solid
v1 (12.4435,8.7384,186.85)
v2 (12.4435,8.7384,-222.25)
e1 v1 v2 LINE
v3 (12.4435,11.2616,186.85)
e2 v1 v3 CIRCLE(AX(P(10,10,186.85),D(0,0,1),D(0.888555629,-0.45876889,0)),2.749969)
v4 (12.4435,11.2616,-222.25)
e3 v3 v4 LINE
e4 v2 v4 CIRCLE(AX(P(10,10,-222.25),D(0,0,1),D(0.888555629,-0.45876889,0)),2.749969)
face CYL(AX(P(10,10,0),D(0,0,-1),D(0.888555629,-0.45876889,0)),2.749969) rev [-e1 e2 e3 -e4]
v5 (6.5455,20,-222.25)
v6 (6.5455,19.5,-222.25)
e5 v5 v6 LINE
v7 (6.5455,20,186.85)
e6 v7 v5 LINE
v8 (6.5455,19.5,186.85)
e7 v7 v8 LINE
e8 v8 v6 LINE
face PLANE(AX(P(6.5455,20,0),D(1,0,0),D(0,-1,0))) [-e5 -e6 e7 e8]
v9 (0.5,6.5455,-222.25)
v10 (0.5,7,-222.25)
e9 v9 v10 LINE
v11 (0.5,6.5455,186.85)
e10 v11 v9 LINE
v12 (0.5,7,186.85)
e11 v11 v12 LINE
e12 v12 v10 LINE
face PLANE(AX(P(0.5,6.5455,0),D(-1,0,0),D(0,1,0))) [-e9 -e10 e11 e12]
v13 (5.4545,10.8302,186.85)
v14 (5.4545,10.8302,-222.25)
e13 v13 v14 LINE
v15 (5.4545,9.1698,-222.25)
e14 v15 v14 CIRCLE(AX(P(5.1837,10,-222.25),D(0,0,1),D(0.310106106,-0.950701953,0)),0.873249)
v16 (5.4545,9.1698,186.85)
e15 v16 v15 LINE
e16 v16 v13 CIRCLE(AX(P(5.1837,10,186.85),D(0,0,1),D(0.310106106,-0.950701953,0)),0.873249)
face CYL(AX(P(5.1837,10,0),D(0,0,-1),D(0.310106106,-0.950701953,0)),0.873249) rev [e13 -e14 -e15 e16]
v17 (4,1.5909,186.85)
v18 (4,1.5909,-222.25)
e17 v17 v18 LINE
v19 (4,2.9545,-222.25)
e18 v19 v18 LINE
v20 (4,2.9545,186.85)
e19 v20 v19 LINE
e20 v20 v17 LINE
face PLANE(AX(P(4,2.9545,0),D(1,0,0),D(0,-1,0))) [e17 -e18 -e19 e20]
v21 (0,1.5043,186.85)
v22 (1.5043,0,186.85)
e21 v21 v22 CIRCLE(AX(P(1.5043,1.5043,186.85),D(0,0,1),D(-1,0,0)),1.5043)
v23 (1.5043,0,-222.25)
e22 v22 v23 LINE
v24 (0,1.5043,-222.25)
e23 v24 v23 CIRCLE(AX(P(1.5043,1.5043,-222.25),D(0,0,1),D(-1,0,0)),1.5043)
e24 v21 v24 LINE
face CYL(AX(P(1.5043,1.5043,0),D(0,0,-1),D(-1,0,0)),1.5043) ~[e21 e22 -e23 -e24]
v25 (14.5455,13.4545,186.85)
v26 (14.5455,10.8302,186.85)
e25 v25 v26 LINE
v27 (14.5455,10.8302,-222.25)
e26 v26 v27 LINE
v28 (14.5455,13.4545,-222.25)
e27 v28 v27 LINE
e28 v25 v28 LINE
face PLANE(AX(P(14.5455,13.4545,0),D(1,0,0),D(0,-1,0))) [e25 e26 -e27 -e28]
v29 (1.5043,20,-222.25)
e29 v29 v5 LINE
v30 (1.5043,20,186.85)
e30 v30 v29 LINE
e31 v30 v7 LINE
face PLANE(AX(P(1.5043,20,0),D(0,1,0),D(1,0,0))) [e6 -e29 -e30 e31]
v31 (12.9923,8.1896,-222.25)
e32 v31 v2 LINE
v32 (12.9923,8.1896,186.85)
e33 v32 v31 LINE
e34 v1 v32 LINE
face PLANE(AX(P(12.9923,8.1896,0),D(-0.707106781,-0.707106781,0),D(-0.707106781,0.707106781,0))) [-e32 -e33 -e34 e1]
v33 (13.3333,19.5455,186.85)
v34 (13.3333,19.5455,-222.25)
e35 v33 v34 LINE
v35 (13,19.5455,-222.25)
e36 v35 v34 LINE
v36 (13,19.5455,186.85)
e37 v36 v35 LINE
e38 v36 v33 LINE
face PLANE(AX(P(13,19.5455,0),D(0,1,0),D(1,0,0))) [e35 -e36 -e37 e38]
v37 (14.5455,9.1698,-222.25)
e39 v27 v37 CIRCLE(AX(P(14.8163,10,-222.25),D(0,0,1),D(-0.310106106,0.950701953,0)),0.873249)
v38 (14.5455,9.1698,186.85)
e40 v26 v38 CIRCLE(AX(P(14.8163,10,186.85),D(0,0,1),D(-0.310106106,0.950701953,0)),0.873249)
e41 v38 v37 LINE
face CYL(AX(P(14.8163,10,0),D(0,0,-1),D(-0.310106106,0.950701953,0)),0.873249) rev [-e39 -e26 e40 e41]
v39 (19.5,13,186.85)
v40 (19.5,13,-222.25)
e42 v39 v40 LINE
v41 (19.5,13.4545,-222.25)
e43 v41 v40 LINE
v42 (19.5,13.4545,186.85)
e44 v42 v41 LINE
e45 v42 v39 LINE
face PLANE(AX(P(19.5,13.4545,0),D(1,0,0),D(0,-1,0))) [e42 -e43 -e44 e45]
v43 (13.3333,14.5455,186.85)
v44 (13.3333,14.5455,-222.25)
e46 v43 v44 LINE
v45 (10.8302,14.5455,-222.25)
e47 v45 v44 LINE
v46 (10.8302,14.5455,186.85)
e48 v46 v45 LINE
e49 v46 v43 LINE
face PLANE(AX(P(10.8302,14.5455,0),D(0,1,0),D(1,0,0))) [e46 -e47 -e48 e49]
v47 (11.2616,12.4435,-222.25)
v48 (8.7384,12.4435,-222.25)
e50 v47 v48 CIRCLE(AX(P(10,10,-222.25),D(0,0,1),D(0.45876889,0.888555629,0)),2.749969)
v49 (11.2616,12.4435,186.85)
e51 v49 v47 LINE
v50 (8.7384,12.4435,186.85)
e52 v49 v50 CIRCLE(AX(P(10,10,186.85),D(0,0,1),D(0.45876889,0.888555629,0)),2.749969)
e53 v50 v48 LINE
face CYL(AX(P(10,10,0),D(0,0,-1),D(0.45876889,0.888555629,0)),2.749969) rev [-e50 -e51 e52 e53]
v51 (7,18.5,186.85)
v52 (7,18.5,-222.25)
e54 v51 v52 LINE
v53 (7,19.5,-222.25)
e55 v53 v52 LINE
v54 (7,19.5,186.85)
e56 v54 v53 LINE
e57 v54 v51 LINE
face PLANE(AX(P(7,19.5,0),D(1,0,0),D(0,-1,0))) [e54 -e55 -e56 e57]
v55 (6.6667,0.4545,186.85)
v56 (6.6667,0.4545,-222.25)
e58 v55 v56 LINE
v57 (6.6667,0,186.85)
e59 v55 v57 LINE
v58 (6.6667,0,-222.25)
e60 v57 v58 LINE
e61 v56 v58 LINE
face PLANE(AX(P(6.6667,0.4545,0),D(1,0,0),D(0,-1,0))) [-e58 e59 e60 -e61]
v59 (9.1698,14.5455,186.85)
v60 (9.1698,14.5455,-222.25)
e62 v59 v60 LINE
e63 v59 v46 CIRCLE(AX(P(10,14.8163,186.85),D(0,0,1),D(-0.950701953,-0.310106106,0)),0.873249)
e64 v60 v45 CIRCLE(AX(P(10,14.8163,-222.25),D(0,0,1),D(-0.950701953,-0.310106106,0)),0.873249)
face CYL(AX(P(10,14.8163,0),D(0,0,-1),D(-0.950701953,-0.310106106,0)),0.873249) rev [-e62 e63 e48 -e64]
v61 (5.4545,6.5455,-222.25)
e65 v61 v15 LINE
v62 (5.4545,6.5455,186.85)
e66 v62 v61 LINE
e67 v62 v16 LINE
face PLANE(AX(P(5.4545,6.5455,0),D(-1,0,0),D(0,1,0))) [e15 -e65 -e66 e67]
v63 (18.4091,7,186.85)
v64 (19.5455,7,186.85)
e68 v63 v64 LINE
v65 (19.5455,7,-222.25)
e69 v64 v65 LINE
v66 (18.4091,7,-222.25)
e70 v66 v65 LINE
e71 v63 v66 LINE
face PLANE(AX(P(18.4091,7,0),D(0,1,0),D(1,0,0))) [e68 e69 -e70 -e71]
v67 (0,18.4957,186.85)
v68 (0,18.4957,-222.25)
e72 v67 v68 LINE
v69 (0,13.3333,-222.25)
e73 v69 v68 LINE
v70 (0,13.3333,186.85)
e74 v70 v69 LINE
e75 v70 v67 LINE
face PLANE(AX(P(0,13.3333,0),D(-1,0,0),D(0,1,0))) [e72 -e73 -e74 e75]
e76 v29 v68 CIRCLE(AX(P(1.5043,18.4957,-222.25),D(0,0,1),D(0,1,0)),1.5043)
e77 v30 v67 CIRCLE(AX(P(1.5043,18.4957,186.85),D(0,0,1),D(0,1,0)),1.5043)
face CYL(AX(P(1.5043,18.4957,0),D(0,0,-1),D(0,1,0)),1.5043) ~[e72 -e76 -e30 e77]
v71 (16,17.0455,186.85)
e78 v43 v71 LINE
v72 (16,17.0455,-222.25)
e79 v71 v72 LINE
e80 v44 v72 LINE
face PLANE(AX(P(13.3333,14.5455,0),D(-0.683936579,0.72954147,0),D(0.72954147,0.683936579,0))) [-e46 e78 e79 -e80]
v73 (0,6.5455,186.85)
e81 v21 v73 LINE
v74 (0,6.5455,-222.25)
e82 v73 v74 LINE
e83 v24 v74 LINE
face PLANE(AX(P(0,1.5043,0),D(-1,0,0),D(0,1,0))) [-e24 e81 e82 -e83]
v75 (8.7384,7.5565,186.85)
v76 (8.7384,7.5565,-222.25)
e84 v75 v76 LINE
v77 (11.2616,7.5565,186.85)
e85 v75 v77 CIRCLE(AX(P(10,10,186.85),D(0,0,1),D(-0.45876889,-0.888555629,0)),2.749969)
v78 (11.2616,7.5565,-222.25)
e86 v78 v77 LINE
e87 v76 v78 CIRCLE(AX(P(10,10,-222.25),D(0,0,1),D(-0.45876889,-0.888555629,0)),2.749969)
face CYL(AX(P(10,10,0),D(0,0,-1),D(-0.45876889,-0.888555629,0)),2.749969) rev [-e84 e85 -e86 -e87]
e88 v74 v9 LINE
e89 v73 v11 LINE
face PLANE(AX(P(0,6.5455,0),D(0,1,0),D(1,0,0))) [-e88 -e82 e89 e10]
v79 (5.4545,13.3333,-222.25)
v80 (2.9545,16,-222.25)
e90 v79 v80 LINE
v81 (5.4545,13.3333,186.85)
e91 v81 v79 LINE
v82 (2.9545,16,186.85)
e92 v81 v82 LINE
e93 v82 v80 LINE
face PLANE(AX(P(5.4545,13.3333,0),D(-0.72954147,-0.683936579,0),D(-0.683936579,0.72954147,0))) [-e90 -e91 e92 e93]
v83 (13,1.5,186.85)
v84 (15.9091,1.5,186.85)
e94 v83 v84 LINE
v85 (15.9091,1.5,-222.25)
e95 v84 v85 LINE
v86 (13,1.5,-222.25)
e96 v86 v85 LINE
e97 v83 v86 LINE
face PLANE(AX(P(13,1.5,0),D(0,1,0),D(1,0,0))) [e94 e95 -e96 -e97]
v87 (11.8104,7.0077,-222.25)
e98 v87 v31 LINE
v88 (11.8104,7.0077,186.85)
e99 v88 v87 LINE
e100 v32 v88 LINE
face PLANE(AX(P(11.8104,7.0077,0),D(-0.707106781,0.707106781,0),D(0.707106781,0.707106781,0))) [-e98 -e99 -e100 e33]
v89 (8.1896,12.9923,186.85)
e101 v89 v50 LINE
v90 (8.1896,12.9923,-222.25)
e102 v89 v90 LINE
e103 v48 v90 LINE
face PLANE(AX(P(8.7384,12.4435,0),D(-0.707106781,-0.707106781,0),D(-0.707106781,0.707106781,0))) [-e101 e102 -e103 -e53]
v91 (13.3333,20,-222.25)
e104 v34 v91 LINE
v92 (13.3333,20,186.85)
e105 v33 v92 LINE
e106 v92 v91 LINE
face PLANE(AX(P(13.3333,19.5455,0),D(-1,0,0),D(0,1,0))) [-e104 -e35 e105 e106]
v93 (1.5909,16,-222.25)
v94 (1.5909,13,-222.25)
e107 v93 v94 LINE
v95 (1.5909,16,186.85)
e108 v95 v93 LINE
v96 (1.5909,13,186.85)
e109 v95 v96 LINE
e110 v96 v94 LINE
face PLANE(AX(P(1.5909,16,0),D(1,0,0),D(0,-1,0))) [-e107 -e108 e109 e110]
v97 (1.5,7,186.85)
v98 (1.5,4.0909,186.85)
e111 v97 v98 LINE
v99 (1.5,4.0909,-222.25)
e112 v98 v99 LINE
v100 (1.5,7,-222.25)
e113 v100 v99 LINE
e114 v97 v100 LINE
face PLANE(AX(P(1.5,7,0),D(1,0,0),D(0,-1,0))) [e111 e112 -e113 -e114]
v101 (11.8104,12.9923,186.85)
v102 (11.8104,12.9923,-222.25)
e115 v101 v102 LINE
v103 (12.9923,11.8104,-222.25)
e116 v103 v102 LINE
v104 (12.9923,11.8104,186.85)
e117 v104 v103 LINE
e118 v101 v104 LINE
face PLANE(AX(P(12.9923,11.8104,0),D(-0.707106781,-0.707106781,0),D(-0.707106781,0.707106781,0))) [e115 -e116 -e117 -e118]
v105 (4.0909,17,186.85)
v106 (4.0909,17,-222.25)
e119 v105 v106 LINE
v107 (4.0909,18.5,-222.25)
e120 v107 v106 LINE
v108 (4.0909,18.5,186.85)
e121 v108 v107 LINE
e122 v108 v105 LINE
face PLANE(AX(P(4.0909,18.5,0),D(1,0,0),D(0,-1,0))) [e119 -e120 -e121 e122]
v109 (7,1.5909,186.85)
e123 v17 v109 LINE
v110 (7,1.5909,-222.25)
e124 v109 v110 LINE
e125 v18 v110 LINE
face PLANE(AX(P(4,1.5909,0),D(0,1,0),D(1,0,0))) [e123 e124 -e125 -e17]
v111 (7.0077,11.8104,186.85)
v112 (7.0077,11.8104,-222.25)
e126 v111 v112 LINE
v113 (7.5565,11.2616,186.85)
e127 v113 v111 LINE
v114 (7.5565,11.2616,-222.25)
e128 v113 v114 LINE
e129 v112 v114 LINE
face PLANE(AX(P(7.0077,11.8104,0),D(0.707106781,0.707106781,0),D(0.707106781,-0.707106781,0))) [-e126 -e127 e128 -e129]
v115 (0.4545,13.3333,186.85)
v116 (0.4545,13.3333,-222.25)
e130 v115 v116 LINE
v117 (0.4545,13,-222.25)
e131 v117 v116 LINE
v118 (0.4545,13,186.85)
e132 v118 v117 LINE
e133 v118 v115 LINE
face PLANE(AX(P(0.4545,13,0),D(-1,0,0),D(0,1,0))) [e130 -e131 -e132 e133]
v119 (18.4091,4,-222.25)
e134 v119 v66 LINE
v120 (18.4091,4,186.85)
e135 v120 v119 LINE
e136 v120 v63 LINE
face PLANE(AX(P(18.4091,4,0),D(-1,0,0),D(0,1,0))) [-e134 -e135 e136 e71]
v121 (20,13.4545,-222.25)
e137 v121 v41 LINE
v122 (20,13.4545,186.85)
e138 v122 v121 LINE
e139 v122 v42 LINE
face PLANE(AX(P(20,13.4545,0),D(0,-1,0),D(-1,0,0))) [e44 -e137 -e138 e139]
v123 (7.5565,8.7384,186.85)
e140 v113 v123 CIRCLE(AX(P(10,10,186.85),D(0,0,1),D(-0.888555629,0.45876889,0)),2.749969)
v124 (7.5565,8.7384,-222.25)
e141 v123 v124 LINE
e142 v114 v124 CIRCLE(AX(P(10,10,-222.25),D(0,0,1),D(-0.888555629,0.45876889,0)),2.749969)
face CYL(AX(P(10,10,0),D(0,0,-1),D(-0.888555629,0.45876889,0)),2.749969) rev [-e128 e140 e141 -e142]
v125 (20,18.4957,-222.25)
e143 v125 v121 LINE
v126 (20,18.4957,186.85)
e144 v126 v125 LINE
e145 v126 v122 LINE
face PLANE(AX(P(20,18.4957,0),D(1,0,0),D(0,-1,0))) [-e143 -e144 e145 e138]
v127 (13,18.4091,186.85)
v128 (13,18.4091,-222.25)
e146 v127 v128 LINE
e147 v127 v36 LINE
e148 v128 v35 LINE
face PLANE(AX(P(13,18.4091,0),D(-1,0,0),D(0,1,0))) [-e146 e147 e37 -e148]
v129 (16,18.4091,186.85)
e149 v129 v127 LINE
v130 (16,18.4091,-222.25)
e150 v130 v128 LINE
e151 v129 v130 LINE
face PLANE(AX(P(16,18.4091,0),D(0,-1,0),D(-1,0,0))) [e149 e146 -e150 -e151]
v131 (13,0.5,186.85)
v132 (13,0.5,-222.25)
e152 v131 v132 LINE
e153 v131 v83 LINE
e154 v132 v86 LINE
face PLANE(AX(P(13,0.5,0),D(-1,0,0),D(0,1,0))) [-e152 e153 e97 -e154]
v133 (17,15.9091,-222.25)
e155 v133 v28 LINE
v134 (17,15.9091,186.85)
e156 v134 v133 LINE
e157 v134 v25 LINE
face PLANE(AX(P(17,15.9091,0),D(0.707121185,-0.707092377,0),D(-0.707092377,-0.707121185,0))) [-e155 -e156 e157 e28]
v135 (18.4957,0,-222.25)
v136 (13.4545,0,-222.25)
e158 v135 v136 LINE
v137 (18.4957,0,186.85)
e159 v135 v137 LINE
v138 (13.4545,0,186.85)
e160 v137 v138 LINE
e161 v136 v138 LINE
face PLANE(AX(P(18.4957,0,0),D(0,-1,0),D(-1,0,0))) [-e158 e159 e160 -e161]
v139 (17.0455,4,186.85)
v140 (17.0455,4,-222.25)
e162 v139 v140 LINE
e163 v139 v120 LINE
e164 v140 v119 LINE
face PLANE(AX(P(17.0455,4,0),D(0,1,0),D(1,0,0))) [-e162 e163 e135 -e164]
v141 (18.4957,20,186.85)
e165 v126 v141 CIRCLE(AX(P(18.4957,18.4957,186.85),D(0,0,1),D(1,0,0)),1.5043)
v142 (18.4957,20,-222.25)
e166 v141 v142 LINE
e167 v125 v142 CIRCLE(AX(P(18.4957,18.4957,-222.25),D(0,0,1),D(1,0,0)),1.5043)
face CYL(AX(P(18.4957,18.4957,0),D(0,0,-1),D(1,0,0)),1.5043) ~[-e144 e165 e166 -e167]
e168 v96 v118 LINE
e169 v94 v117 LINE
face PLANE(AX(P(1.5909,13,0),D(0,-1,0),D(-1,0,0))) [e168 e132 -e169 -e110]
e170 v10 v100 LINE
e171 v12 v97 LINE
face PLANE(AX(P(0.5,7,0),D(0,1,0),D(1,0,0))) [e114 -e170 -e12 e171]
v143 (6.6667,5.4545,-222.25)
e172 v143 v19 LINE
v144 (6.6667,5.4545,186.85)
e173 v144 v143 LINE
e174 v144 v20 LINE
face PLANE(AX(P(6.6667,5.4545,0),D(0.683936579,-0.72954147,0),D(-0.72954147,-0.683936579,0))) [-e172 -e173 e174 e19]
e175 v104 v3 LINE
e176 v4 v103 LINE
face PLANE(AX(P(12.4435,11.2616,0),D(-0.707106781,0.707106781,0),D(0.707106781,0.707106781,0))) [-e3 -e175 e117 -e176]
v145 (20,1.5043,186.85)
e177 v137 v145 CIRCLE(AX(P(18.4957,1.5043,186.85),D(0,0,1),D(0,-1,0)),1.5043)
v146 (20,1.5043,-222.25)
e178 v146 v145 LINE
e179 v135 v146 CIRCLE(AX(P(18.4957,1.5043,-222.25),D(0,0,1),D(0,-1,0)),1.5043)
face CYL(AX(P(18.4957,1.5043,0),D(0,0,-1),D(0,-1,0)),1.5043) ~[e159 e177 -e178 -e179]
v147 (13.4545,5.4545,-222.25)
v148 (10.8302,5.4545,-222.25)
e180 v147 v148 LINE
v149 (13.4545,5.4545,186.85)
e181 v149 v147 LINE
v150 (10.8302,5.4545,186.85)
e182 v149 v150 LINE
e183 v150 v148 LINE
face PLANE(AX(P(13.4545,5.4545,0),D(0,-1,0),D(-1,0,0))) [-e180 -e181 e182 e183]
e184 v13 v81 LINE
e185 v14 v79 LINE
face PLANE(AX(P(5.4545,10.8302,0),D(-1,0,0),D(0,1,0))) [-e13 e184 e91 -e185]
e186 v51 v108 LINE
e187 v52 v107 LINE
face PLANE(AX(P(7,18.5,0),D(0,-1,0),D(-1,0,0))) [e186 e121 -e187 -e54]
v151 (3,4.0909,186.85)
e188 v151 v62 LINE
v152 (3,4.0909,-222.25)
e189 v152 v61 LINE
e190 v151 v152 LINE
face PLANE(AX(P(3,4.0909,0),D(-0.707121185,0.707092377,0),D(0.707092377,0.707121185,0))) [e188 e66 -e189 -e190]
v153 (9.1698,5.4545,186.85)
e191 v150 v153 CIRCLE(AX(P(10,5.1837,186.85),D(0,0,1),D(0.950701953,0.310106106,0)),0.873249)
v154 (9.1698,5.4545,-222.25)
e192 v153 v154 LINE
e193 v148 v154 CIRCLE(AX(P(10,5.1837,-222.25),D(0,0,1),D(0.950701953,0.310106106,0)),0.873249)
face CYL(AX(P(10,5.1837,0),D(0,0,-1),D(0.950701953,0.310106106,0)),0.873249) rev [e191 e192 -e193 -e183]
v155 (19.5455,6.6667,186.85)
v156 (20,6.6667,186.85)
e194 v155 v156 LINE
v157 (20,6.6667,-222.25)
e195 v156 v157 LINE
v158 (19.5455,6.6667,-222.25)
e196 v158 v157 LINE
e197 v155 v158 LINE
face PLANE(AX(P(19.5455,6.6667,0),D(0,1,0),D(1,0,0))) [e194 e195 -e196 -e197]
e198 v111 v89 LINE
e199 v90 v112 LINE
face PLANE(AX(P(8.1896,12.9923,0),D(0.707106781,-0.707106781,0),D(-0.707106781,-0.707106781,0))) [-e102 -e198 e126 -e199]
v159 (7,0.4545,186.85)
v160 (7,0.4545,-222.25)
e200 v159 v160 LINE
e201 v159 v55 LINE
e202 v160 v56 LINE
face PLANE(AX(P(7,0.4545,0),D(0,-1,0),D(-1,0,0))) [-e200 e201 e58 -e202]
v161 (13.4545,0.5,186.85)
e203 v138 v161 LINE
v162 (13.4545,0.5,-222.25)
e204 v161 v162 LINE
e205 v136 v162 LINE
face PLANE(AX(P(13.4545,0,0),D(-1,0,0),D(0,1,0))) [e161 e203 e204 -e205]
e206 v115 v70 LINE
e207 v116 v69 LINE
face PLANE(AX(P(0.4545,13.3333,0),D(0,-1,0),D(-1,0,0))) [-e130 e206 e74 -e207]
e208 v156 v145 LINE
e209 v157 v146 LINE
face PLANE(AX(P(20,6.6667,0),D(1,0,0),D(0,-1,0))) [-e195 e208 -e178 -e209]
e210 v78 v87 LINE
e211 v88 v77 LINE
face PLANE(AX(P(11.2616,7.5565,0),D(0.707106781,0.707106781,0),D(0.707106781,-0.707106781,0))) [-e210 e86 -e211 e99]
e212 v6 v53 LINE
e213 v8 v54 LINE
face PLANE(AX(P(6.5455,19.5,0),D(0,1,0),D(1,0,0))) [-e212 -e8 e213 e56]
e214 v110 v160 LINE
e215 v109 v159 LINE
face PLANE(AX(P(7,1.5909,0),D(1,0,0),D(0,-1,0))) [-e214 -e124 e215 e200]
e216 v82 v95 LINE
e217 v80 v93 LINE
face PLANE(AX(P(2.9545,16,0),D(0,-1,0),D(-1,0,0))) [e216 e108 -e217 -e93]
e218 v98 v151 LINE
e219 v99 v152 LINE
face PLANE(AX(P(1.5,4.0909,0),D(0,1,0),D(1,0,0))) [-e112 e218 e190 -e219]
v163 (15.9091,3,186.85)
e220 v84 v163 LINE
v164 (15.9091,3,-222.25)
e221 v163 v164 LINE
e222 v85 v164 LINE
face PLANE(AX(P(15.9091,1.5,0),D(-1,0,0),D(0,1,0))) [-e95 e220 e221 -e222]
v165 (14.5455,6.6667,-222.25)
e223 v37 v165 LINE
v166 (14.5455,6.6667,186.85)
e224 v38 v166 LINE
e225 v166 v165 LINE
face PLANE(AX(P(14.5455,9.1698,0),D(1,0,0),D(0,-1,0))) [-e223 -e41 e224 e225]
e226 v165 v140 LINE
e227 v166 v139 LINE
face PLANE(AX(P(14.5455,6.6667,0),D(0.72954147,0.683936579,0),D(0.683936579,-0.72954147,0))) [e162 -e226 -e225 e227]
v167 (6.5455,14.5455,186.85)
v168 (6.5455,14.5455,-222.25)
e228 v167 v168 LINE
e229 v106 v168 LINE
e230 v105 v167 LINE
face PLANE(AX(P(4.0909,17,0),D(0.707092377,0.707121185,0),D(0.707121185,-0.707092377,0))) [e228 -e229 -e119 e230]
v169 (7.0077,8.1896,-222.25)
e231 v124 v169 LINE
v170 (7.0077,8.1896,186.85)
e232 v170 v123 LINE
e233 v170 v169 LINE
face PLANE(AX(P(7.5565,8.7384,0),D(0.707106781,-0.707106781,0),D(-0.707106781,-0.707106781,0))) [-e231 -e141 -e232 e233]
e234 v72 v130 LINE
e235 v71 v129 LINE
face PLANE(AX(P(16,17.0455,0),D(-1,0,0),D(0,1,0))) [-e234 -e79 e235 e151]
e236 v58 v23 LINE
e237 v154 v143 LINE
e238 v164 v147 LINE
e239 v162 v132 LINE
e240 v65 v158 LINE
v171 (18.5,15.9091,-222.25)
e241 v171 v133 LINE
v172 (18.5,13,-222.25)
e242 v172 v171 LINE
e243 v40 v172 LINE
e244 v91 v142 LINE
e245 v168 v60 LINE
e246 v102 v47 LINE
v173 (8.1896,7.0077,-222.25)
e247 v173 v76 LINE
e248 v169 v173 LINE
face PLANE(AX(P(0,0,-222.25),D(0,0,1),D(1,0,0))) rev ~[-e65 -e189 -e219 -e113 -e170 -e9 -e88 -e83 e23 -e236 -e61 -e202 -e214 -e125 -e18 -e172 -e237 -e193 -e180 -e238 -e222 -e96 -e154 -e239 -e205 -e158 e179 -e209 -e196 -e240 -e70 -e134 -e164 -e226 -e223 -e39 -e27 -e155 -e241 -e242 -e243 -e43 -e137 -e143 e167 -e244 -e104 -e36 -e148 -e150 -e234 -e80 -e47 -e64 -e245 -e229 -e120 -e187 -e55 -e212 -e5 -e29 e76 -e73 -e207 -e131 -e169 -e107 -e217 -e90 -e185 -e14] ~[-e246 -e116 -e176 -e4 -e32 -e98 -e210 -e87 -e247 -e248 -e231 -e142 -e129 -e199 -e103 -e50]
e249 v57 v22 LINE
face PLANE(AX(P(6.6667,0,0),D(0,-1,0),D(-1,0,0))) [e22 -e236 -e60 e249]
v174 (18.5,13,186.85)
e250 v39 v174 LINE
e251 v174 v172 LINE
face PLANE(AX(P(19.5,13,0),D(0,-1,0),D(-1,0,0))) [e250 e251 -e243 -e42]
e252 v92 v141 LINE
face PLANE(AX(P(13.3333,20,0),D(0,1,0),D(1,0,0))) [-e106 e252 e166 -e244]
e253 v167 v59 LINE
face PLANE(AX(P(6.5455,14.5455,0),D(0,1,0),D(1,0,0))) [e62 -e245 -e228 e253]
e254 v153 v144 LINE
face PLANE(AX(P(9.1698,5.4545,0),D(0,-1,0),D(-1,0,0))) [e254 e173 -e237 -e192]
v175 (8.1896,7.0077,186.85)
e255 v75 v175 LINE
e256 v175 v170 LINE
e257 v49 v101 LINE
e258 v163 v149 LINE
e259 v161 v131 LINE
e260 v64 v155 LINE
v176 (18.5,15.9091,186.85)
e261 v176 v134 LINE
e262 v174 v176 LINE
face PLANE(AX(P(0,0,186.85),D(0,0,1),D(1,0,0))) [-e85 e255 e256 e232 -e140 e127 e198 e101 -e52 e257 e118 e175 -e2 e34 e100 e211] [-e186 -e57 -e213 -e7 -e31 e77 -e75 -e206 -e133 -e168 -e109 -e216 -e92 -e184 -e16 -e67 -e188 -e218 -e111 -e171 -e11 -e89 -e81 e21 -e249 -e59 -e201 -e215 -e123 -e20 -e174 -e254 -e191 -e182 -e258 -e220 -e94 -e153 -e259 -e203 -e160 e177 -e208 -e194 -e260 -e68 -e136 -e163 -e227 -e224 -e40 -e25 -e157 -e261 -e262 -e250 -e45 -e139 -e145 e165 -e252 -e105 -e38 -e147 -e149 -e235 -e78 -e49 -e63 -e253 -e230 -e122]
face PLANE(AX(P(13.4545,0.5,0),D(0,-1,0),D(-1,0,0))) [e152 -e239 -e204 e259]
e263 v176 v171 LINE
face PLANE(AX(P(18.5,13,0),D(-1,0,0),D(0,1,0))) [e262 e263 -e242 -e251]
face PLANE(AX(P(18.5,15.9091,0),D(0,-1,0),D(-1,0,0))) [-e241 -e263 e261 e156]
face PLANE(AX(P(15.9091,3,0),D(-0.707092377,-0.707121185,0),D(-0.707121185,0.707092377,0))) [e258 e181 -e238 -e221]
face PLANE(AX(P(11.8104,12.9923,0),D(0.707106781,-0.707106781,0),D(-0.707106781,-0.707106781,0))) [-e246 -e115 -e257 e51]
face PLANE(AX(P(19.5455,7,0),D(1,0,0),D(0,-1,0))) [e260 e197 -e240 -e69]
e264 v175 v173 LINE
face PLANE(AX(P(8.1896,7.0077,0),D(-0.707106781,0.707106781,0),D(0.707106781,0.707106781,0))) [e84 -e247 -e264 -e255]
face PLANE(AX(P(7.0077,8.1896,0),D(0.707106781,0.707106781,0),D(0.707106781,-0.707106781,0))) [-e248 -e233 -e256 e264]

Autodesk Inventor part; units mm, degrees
ref_plane "YZ Plane" through (0, 0, 0) normal (1, 0, 0) x (0, 1, 0)
ref_plane "XZ Plane" through (0, 0, 0) normal (0, 1, 0) x (-1, 0, 0)
ref_plane "XY Plane" through (0, 0, 0) normal (0, 0, 1) x (1, 0, 0)
sketch "Sketch1" plane through (0, 0, 0) normal (0, 0, 1) x (1, 0, 0)
  line L0 (11.2616, 7.5565) -> (11.8104, 7.0077)
  line L1 (11.8104, 7.0077) -> (12.9923, 8.1896)
  line L2 (12.9923, 8.1896) -> (12.4435, 8.7384)
  arc A0 (12.4435, 8.7384) -> (12.4435, 11.2616) centre (10, 10) ccw
  line L3 (12.4435, 11.2616) -> (12.9923, 11.8104)
  line L4 (12.9923, 11.8104) -> (11.8104, 12.9923)
  line L5 (11.8104, 12.9923) -> (11.2616, 12.4435)
  arc A1 (11.2616, 12.4435) -> (8.7384, 12.4435) centre (10, 10) ccw
  line L6 (8.7384, 12.4435) -> (8.1896, 12.9923)
  line L7 (8.1896, 12.9923) -> (7.0077, 11.8104)
  line L8 (7.0077, 11.8104) -> (7.5565, 11.2616)
  arc A2 (7.5565, 11.2616) -> (7.5565, 8.7384) centre (10, 10) ccw
  line L9 (7.5565, 8.7384) -> (7.0077, 8.1896)
  line L10 (7.0077, 8.1896) -> (8.1896, 7.0077)
  line L11 (8.1896, 7.0077) -> (8.7384, 7.5565)
  arc A3 (8.7384, 7.5565) -> (11.2616, 7.5565) centre (10, 10) ccw
  line L12 (13.4545, 0) -> (13.4545, 0.5)
  line L13 (13.4545, 0.5) -> (13, 0.5)
  line L14 (13, 0.5) -> (13, 1.5)
  line L15 (13, 1.5) -> (15.9091, 1.5)
  line L16 (15.9091, 1.5) -> (15.9091, 3)
  line L17 (15.9091, 3) -> (13.4545, 5.4545)
  line L18 (13.4545, 5.4545) -> (10.8302, 5.4545)
  arc A4 (10.8302, 5.4545) -> (9.1698, 5.4545) centre (10, 5.1837) ccw
  line L19 (9.1698, 5.4545) -> (6.6667, 5.4545)
  line L20 (6.6667, 5.4545) -> (4, 2.9545)
  line L21 (4, 2.9545) -> (4, 1.5909)
  line L22 (4, 1.5909) -> (7, 1.5909)
  line L23 (7, 1.5909) -> (7, 0.4545)
  line L24 (7, 0.4545) -> (6.6667, 0.4545)
  line L25 (6.6667, 0.4545) -> (6.6667, 0)
  line L26 (6.6667, 0) -> (1.5043, 0)
  arc A5 (0, 1.5043) -> (1.5043, 0) centre (1.5043, 1.5043) ccw
  line L27 (0, 1.5043) -> (0, 6.5455)
  line L28 (0, 6.5455) -> (0.5, 6.5455)
  line L29 (0.5, 6.5455) -> (0.5, 7)
  line L30 (0.5, 7) -> (1.5, 7)
  line L31 (1.5, 7) -> (1.5, 4.0909)
  line L32 (1.5, 4.0909) -> (3, 4.0909)
  line L33 (3, 4.0909) -> (5.4545, 6.5455)
  line L34 (5.4545, 6.5455) -> (5.4545, 9.1698)
  arc A6 (5.4545, 9.1698) -> (5.4545, 10.8302) centre (5.1837, 10) ccw
  line L35 (5.4545, 10.8302) -> (5.4545, 13.3333)
  line L36 (5.4545, 13.3333) -> (2.9545, 16)
  line L37 (2.9545, 16) -> (1.5909, 16)
  line L38 (1.5909, 16) -> (1.5909, 13)
  line L39 (1.5909, 13) -> (0.4545, 13)
  line L40 (0.4545, 13) -> (0.4545, 13.3333)
  line L41 (0.4545, 13.3333) -> (0, 13.3333)
  line L42 (0, 13.3333) -> (0, 18.4957)
  arc A7 (1.5043, 20) -> (0, 18.4957) centre (1.5043, 18.4957) ccw
  line L43 (1.5043, 20) -> (6.5455, 20)
  line L44 (6.5455, 20) -> (6.5455, 19.5)
  line L45 (6.5455, 19.5) -> (7, 19.5)
  line L46 (7, 19.5) -> (7, 18.5)
  line L47 (7, 18.5) -> (4.0909, 18.5)
  line L48 (4.0909, 18.5) -> (4.0909, 17)
  line L49 (4.0909, 17) -> (6.5455, 14.5455)
  line L50 (6.5455, 14.5455) -> (9.1698, 14.5455)
  arc A8 (9.1698, 14.5455) -> (10.8302, 14.5455) centre (10, 14.8163) ccw
  line L51 (10.8302, 14.5455) -> (13.3333, 14.5455)
  line L52 (13.3333, 14.5455) -> (16, 17.0455)
  line L53 (16, 17.0455) -> (16, 18.4091)
  line L54 (16, 18.4091) -> (13, 18.4091)
  line L55 (13, 18.4091) -> (13, 19.5455)
  line L56 (13, 19.5455) -> (13.3333, 19.5455)
  line L57 (13.3333, 19.5455) -> (13.3333, 20)
  line L58 (13.3333, 20) -> (18.4957, 20)
  arc A9 (20, 18.4957) -> (18.4957, 20) centre (18.4957, 18.4957) ccw
  line L59 (20, 18.4957) -> (20, 13.4545)
  line L60 (20, 13.4545) -> (19.5, 13.4545)
  line L61 (19.5, 13.4545) -> (19.5, 13)
  line L62 (19.5, 13) -> (18.5, 13)
  line L63 (18.5, 13) -> (18.5, 15.9091)
  line L64 (18.5, 15.9091) -> (17, 15.9091)
  line L65 (17, 15.9091) -> (14.5455, 13.4545)
  line L66 (14.5455, 13.4545) -> (14.5455, 10.8302)
  arc A10 (14.5455, 10.8302) -> (14.5455, 9.1698) centre (14.8163, 10) ccw
  line L67 (14.5455, 9.1698) -> (14.5455, 6.6667)
  line L68 (14.5455, 6.6667) -> (17.0455, 4)
  line L69 (17.0455, 4) -> (18.4091, 4)
  line L70 (18.4091, 4) -> (18.4091, 7)
  line L71 (18.4091, 7) -> (19.5455, 7)
  line L72 (19.5455, 7) -> (19.5455, 6.6667)
  line L73 (19.5455, 6.6667) -> (20, 6.6667)
  line L74 (20, 6.6667) -> (20, 1.5043)
  arc A11 (18.4957, 0) -> (20, 1.5043) centre (18.4957, 1.5043) ccw
  line L75 (18.4957, 0) -> (13.4545, 0)
  point P0 (0, 0)
  point P1 (0.4406, 0.4406)
  point P2 (10, 0)
  point P3 (10, 0)
  point P4 (10, 0)
  point P5 (19.5594, 0.4406)
  point P6 (0, 10)
  point P7 (0, 10)
  point P8 (0, 10)
  point P9 (10, 10)
  point P10 (20, 10)
  point P11 (20, 10)
  point P12 (20, 10)
  point P13 (0.4406, 19.5594)
  point P14 (10, 20)
  point P15 (10, 20)
  point P16 (10, 20)
  point P17 (19.5594, 19.5594)
extrude "Extrusion1" add sketch "Sketch1" along normal mid plane 444.5
sketch "Sketch3" plane through (0, 0, 222.25) normal (0, 0, 1) x (1, 0, 0)
  arc A0 (8.7384, 7.5565) -> (11.2616, 7.5565) centre (10, 10) ccw projected
  line L0 (8.7384, 7.5565) -> (8.1896, 7.0077) projected
  line L1 (8.1896, 7.0077) -> (7.0077, 8.1896) projected
  line L2 (7.0077, 8.1896) -> (7.5565, 8.7384) projected
  arc A1 (7.5565, 11.2616) -> (7.5565, 8.7384) centre (10, 10) ccw projected
  line L3 (7.5565, 11.2616) -> (7.0077, 11.8104) projected
  line L4 (7.0077, 11.8104) -> (8.1896, 12.9923) projected
  line L5 (8.1896, 12.9923) -> (8.7384, 12.4435) projected
  arc A2 (11.2616, 12.4435) -> (8.7384, 12.4435) centre (10, 10) ccw projected
  line L6 (11.2616, 12.4435) -> (11.8104, 12.9923) projected
  line L7 (11.8104, 12.9923) -> (12.9923, 11.8104) projected
  line L8 (12.9923, 11.8104) -> (12.4435, 11.2616) projected
  arc A3 (12.4435, 8.7384) -> (12.4435, 11.2616) centre (10, 10) ccw projected
  line L9 (12.4435, 8.7384) -> (12.9923, 8.1896) projected
  line L10 (12.9923, 8.1896) -> (11.8104, 7.0077) projected
  line L11 (11.8104, 7.0077) -> (11.2616, 7.5565) projected
  line L12 (13.4545, 5.4545) -> (10.8302, 5.4545) projected
  line L13 (15.9091, 3) -> (13.4545, 5.4545) projected
  line L14 (15.9091, 1.5) -> (15.9091, 3) projected
  line L15 (13, 1.5) -> (15.9091, 1.5) projected
  line L16 (13, 0.5) -> (13, 1.5) projected
  line L17 (13.4545, 0.5) -> (13, 0.5) projected
  line L18 (13.4545, 0) -> (13.4545, 0.5) projected
  line L19 (18.4957, 0) -> (13.4545, 0) projected
  arc A4 (18.4957, 0) -> (20, 1.5043) centre (18.4957, 1.5043) ccw projected
  line L20 (20, 6.6667) -> (20, 1.5043) projected
  line L21 (19.5455, 6.6667) -> (20, 6.6667) projected
  line L22 (19.5455, 7) -> (19.5455, 6.6667) projected
  line L23 (18.4091, 7) -> (19.5455, 7) projected
  line L24 (18.4091, 4) -> (18.4091, 7) projected
  line L25 (17.0455, 4) -> (18.4091, 4) projected
  line L26 (14.5455, 6.6667) -> (17.0455, 4) projected
  line L27 (14.5455, 9.1698) -> (14.5455, 6.6667) projected
  arc A5 (14.5455, 10.8302) -> (14.5455, 9.1698) centre (14.8163, 10) ccw projected
  line L28 (14.5455, 13.4545) -> (14.5455, 10.8302) projected
  line L29 (17, 15.9091) -> (14.5455, 13.4545) projected
  line L30 (18.5, 15.9091) -> (17, 15.9091) projected
  line L31 (18.5, 13) -> (18.5, 15.9091) projected
  line L32 (19.5, 13) -> (18.5, 13) projected
  line L33 (19.5, 13.4545) -> (19.5, 13) projected
  line L34 (20, 13.4545) -> (19.5, 13.4545) projected
  line L35 (20, 18.4957) -> (20, 13.4545) projected
  arc A6 (20, 18.4957) -> (18.4957, 20) centre (18.4957, 18.4957) ccw projected
  line L36 (13.3333, 20) -> (18.4957, 20) projected
  line L37 (13.3333, 19.5455) -> (13.3333, 20) projected
  line L38 (13, 19.5455) -> (13.3333, 19.5455) projected
  line L39 (13, 18.4091) -> (13, 19.5455) projected
  line L40 (16, 18.4091) -> (13, 18.4091) projected
  line L41 (16, 17.0455) -> (16, 18.4091) projected
  line L42 (13.3333, 14.5455) -> (16, 17.0455) projected
  line L43 (10.8302, 14.5455) -> (13.3333, 14.5455) projected
  arc A7 (9.1698, 14.5455) -> (10.8302, 14.5455) centre (10, 14.8163) ccw projected
  line L44 (6.5455, 14.5455) -> (9.1698, 14.5455) projected
  line L45 (4.0909, 17) -> (6.5455, 14.5455) projected
  line L46 (4.0909, 18.5) -> (4.0909, 17) projected
  line L47 (7, 18.5) -> (4.0909, 18.5) projected
  line L48 (7, 19.5) -> (7, 18.5) projected
  line L49 (6.5455, 19.5) -> (7, 19.5) projected
  line L50 (6.5455, 20) -> (6.5455, 19.5) projected
  line L51 (1.5043, 20) -> (6.5455, 20) projected
  arc A8 (1.5043, 20) -> (0, 18.4957) centre (1.5043, 18.4957) ccw projected
  line L52 (0, 13.3333) -> (0, 18.4957) projected
  line L53 (0.4545, 13.3333) -> (0, 13.3333) projected
  line L54 (0.4545, 13) -> (0.4545, 13.3333) projected
  line L55 (1.5909, 13) -> (0.4545, 13) projected
  line L56 (1.5909, 16) -> (1.5909, 13) projected
  line L57 (2.9545, 16) -> (1.5909, 16) projected
  line L58 (5.4545, 13.3333) -> (2.9545, 16) projected
  line L59 (5.4545, 10.8302) -> (5.4545, 13.3333) projected
  arc A9 (5.4545, 9.1698) -> (5.4545, 10.8302) centre (5.1837, 10) ccw projected
  line L60 (5.4545, 6.5455) -> (5.4545, 9.1698) projected
  line L61 (3, 4.0909) -> (5.4545, 6.5455) projected
  line L62 (1.5, 4.0909) -> (3, 4.0909) projected
  line L63 (1.5, 7) -> (1.5, 4.0909) projected
  line L64 (0.5, 7) -> (1.5, 7) projected
  line L65 (0.5, 6.5455) -> (0.5, 7) projected
  line L66 (0, 6.5455) -> (0.5, 6.5455) projected
  line L67 (0, 1.5043) -> (0, 6.5455) projected
  arc A10 (0, 1.5043) -> (1.5043, 0) centre (1.5043, 1.5043) ccw projected
  line L68 (6.6667, 0) -> (1.5043, 0) projected
  line L69 (6.6667, 0.4545) -> (6.6667, 0) projected
  line L70 (7, 0.4545) -> (6.6667, 0.4545) projected
  line L71 (7, 1.5909) -> (7, 0.4545) projected
  line L72 (4, 1.5909) -> (7, 1.5909) projected
  line L73 (4, 2.9545) -> (4, 1.5909) projected
  line L74 (6.6667, 5.4545) -> (4, 2.9545) projected
  line L75 (9.1698, 5.4545) -> (6.6667, 5.4545) projected
  arc A11 (10.8302, 5.4545) -> (9.1698, 5.4545) centre (10, 5.1837) ccw projected
  point P0 (0, 0)
extrude "Extrusion3" cut sketch "Sketch3" against normal blind 35.4
properties part number "Frame side"
